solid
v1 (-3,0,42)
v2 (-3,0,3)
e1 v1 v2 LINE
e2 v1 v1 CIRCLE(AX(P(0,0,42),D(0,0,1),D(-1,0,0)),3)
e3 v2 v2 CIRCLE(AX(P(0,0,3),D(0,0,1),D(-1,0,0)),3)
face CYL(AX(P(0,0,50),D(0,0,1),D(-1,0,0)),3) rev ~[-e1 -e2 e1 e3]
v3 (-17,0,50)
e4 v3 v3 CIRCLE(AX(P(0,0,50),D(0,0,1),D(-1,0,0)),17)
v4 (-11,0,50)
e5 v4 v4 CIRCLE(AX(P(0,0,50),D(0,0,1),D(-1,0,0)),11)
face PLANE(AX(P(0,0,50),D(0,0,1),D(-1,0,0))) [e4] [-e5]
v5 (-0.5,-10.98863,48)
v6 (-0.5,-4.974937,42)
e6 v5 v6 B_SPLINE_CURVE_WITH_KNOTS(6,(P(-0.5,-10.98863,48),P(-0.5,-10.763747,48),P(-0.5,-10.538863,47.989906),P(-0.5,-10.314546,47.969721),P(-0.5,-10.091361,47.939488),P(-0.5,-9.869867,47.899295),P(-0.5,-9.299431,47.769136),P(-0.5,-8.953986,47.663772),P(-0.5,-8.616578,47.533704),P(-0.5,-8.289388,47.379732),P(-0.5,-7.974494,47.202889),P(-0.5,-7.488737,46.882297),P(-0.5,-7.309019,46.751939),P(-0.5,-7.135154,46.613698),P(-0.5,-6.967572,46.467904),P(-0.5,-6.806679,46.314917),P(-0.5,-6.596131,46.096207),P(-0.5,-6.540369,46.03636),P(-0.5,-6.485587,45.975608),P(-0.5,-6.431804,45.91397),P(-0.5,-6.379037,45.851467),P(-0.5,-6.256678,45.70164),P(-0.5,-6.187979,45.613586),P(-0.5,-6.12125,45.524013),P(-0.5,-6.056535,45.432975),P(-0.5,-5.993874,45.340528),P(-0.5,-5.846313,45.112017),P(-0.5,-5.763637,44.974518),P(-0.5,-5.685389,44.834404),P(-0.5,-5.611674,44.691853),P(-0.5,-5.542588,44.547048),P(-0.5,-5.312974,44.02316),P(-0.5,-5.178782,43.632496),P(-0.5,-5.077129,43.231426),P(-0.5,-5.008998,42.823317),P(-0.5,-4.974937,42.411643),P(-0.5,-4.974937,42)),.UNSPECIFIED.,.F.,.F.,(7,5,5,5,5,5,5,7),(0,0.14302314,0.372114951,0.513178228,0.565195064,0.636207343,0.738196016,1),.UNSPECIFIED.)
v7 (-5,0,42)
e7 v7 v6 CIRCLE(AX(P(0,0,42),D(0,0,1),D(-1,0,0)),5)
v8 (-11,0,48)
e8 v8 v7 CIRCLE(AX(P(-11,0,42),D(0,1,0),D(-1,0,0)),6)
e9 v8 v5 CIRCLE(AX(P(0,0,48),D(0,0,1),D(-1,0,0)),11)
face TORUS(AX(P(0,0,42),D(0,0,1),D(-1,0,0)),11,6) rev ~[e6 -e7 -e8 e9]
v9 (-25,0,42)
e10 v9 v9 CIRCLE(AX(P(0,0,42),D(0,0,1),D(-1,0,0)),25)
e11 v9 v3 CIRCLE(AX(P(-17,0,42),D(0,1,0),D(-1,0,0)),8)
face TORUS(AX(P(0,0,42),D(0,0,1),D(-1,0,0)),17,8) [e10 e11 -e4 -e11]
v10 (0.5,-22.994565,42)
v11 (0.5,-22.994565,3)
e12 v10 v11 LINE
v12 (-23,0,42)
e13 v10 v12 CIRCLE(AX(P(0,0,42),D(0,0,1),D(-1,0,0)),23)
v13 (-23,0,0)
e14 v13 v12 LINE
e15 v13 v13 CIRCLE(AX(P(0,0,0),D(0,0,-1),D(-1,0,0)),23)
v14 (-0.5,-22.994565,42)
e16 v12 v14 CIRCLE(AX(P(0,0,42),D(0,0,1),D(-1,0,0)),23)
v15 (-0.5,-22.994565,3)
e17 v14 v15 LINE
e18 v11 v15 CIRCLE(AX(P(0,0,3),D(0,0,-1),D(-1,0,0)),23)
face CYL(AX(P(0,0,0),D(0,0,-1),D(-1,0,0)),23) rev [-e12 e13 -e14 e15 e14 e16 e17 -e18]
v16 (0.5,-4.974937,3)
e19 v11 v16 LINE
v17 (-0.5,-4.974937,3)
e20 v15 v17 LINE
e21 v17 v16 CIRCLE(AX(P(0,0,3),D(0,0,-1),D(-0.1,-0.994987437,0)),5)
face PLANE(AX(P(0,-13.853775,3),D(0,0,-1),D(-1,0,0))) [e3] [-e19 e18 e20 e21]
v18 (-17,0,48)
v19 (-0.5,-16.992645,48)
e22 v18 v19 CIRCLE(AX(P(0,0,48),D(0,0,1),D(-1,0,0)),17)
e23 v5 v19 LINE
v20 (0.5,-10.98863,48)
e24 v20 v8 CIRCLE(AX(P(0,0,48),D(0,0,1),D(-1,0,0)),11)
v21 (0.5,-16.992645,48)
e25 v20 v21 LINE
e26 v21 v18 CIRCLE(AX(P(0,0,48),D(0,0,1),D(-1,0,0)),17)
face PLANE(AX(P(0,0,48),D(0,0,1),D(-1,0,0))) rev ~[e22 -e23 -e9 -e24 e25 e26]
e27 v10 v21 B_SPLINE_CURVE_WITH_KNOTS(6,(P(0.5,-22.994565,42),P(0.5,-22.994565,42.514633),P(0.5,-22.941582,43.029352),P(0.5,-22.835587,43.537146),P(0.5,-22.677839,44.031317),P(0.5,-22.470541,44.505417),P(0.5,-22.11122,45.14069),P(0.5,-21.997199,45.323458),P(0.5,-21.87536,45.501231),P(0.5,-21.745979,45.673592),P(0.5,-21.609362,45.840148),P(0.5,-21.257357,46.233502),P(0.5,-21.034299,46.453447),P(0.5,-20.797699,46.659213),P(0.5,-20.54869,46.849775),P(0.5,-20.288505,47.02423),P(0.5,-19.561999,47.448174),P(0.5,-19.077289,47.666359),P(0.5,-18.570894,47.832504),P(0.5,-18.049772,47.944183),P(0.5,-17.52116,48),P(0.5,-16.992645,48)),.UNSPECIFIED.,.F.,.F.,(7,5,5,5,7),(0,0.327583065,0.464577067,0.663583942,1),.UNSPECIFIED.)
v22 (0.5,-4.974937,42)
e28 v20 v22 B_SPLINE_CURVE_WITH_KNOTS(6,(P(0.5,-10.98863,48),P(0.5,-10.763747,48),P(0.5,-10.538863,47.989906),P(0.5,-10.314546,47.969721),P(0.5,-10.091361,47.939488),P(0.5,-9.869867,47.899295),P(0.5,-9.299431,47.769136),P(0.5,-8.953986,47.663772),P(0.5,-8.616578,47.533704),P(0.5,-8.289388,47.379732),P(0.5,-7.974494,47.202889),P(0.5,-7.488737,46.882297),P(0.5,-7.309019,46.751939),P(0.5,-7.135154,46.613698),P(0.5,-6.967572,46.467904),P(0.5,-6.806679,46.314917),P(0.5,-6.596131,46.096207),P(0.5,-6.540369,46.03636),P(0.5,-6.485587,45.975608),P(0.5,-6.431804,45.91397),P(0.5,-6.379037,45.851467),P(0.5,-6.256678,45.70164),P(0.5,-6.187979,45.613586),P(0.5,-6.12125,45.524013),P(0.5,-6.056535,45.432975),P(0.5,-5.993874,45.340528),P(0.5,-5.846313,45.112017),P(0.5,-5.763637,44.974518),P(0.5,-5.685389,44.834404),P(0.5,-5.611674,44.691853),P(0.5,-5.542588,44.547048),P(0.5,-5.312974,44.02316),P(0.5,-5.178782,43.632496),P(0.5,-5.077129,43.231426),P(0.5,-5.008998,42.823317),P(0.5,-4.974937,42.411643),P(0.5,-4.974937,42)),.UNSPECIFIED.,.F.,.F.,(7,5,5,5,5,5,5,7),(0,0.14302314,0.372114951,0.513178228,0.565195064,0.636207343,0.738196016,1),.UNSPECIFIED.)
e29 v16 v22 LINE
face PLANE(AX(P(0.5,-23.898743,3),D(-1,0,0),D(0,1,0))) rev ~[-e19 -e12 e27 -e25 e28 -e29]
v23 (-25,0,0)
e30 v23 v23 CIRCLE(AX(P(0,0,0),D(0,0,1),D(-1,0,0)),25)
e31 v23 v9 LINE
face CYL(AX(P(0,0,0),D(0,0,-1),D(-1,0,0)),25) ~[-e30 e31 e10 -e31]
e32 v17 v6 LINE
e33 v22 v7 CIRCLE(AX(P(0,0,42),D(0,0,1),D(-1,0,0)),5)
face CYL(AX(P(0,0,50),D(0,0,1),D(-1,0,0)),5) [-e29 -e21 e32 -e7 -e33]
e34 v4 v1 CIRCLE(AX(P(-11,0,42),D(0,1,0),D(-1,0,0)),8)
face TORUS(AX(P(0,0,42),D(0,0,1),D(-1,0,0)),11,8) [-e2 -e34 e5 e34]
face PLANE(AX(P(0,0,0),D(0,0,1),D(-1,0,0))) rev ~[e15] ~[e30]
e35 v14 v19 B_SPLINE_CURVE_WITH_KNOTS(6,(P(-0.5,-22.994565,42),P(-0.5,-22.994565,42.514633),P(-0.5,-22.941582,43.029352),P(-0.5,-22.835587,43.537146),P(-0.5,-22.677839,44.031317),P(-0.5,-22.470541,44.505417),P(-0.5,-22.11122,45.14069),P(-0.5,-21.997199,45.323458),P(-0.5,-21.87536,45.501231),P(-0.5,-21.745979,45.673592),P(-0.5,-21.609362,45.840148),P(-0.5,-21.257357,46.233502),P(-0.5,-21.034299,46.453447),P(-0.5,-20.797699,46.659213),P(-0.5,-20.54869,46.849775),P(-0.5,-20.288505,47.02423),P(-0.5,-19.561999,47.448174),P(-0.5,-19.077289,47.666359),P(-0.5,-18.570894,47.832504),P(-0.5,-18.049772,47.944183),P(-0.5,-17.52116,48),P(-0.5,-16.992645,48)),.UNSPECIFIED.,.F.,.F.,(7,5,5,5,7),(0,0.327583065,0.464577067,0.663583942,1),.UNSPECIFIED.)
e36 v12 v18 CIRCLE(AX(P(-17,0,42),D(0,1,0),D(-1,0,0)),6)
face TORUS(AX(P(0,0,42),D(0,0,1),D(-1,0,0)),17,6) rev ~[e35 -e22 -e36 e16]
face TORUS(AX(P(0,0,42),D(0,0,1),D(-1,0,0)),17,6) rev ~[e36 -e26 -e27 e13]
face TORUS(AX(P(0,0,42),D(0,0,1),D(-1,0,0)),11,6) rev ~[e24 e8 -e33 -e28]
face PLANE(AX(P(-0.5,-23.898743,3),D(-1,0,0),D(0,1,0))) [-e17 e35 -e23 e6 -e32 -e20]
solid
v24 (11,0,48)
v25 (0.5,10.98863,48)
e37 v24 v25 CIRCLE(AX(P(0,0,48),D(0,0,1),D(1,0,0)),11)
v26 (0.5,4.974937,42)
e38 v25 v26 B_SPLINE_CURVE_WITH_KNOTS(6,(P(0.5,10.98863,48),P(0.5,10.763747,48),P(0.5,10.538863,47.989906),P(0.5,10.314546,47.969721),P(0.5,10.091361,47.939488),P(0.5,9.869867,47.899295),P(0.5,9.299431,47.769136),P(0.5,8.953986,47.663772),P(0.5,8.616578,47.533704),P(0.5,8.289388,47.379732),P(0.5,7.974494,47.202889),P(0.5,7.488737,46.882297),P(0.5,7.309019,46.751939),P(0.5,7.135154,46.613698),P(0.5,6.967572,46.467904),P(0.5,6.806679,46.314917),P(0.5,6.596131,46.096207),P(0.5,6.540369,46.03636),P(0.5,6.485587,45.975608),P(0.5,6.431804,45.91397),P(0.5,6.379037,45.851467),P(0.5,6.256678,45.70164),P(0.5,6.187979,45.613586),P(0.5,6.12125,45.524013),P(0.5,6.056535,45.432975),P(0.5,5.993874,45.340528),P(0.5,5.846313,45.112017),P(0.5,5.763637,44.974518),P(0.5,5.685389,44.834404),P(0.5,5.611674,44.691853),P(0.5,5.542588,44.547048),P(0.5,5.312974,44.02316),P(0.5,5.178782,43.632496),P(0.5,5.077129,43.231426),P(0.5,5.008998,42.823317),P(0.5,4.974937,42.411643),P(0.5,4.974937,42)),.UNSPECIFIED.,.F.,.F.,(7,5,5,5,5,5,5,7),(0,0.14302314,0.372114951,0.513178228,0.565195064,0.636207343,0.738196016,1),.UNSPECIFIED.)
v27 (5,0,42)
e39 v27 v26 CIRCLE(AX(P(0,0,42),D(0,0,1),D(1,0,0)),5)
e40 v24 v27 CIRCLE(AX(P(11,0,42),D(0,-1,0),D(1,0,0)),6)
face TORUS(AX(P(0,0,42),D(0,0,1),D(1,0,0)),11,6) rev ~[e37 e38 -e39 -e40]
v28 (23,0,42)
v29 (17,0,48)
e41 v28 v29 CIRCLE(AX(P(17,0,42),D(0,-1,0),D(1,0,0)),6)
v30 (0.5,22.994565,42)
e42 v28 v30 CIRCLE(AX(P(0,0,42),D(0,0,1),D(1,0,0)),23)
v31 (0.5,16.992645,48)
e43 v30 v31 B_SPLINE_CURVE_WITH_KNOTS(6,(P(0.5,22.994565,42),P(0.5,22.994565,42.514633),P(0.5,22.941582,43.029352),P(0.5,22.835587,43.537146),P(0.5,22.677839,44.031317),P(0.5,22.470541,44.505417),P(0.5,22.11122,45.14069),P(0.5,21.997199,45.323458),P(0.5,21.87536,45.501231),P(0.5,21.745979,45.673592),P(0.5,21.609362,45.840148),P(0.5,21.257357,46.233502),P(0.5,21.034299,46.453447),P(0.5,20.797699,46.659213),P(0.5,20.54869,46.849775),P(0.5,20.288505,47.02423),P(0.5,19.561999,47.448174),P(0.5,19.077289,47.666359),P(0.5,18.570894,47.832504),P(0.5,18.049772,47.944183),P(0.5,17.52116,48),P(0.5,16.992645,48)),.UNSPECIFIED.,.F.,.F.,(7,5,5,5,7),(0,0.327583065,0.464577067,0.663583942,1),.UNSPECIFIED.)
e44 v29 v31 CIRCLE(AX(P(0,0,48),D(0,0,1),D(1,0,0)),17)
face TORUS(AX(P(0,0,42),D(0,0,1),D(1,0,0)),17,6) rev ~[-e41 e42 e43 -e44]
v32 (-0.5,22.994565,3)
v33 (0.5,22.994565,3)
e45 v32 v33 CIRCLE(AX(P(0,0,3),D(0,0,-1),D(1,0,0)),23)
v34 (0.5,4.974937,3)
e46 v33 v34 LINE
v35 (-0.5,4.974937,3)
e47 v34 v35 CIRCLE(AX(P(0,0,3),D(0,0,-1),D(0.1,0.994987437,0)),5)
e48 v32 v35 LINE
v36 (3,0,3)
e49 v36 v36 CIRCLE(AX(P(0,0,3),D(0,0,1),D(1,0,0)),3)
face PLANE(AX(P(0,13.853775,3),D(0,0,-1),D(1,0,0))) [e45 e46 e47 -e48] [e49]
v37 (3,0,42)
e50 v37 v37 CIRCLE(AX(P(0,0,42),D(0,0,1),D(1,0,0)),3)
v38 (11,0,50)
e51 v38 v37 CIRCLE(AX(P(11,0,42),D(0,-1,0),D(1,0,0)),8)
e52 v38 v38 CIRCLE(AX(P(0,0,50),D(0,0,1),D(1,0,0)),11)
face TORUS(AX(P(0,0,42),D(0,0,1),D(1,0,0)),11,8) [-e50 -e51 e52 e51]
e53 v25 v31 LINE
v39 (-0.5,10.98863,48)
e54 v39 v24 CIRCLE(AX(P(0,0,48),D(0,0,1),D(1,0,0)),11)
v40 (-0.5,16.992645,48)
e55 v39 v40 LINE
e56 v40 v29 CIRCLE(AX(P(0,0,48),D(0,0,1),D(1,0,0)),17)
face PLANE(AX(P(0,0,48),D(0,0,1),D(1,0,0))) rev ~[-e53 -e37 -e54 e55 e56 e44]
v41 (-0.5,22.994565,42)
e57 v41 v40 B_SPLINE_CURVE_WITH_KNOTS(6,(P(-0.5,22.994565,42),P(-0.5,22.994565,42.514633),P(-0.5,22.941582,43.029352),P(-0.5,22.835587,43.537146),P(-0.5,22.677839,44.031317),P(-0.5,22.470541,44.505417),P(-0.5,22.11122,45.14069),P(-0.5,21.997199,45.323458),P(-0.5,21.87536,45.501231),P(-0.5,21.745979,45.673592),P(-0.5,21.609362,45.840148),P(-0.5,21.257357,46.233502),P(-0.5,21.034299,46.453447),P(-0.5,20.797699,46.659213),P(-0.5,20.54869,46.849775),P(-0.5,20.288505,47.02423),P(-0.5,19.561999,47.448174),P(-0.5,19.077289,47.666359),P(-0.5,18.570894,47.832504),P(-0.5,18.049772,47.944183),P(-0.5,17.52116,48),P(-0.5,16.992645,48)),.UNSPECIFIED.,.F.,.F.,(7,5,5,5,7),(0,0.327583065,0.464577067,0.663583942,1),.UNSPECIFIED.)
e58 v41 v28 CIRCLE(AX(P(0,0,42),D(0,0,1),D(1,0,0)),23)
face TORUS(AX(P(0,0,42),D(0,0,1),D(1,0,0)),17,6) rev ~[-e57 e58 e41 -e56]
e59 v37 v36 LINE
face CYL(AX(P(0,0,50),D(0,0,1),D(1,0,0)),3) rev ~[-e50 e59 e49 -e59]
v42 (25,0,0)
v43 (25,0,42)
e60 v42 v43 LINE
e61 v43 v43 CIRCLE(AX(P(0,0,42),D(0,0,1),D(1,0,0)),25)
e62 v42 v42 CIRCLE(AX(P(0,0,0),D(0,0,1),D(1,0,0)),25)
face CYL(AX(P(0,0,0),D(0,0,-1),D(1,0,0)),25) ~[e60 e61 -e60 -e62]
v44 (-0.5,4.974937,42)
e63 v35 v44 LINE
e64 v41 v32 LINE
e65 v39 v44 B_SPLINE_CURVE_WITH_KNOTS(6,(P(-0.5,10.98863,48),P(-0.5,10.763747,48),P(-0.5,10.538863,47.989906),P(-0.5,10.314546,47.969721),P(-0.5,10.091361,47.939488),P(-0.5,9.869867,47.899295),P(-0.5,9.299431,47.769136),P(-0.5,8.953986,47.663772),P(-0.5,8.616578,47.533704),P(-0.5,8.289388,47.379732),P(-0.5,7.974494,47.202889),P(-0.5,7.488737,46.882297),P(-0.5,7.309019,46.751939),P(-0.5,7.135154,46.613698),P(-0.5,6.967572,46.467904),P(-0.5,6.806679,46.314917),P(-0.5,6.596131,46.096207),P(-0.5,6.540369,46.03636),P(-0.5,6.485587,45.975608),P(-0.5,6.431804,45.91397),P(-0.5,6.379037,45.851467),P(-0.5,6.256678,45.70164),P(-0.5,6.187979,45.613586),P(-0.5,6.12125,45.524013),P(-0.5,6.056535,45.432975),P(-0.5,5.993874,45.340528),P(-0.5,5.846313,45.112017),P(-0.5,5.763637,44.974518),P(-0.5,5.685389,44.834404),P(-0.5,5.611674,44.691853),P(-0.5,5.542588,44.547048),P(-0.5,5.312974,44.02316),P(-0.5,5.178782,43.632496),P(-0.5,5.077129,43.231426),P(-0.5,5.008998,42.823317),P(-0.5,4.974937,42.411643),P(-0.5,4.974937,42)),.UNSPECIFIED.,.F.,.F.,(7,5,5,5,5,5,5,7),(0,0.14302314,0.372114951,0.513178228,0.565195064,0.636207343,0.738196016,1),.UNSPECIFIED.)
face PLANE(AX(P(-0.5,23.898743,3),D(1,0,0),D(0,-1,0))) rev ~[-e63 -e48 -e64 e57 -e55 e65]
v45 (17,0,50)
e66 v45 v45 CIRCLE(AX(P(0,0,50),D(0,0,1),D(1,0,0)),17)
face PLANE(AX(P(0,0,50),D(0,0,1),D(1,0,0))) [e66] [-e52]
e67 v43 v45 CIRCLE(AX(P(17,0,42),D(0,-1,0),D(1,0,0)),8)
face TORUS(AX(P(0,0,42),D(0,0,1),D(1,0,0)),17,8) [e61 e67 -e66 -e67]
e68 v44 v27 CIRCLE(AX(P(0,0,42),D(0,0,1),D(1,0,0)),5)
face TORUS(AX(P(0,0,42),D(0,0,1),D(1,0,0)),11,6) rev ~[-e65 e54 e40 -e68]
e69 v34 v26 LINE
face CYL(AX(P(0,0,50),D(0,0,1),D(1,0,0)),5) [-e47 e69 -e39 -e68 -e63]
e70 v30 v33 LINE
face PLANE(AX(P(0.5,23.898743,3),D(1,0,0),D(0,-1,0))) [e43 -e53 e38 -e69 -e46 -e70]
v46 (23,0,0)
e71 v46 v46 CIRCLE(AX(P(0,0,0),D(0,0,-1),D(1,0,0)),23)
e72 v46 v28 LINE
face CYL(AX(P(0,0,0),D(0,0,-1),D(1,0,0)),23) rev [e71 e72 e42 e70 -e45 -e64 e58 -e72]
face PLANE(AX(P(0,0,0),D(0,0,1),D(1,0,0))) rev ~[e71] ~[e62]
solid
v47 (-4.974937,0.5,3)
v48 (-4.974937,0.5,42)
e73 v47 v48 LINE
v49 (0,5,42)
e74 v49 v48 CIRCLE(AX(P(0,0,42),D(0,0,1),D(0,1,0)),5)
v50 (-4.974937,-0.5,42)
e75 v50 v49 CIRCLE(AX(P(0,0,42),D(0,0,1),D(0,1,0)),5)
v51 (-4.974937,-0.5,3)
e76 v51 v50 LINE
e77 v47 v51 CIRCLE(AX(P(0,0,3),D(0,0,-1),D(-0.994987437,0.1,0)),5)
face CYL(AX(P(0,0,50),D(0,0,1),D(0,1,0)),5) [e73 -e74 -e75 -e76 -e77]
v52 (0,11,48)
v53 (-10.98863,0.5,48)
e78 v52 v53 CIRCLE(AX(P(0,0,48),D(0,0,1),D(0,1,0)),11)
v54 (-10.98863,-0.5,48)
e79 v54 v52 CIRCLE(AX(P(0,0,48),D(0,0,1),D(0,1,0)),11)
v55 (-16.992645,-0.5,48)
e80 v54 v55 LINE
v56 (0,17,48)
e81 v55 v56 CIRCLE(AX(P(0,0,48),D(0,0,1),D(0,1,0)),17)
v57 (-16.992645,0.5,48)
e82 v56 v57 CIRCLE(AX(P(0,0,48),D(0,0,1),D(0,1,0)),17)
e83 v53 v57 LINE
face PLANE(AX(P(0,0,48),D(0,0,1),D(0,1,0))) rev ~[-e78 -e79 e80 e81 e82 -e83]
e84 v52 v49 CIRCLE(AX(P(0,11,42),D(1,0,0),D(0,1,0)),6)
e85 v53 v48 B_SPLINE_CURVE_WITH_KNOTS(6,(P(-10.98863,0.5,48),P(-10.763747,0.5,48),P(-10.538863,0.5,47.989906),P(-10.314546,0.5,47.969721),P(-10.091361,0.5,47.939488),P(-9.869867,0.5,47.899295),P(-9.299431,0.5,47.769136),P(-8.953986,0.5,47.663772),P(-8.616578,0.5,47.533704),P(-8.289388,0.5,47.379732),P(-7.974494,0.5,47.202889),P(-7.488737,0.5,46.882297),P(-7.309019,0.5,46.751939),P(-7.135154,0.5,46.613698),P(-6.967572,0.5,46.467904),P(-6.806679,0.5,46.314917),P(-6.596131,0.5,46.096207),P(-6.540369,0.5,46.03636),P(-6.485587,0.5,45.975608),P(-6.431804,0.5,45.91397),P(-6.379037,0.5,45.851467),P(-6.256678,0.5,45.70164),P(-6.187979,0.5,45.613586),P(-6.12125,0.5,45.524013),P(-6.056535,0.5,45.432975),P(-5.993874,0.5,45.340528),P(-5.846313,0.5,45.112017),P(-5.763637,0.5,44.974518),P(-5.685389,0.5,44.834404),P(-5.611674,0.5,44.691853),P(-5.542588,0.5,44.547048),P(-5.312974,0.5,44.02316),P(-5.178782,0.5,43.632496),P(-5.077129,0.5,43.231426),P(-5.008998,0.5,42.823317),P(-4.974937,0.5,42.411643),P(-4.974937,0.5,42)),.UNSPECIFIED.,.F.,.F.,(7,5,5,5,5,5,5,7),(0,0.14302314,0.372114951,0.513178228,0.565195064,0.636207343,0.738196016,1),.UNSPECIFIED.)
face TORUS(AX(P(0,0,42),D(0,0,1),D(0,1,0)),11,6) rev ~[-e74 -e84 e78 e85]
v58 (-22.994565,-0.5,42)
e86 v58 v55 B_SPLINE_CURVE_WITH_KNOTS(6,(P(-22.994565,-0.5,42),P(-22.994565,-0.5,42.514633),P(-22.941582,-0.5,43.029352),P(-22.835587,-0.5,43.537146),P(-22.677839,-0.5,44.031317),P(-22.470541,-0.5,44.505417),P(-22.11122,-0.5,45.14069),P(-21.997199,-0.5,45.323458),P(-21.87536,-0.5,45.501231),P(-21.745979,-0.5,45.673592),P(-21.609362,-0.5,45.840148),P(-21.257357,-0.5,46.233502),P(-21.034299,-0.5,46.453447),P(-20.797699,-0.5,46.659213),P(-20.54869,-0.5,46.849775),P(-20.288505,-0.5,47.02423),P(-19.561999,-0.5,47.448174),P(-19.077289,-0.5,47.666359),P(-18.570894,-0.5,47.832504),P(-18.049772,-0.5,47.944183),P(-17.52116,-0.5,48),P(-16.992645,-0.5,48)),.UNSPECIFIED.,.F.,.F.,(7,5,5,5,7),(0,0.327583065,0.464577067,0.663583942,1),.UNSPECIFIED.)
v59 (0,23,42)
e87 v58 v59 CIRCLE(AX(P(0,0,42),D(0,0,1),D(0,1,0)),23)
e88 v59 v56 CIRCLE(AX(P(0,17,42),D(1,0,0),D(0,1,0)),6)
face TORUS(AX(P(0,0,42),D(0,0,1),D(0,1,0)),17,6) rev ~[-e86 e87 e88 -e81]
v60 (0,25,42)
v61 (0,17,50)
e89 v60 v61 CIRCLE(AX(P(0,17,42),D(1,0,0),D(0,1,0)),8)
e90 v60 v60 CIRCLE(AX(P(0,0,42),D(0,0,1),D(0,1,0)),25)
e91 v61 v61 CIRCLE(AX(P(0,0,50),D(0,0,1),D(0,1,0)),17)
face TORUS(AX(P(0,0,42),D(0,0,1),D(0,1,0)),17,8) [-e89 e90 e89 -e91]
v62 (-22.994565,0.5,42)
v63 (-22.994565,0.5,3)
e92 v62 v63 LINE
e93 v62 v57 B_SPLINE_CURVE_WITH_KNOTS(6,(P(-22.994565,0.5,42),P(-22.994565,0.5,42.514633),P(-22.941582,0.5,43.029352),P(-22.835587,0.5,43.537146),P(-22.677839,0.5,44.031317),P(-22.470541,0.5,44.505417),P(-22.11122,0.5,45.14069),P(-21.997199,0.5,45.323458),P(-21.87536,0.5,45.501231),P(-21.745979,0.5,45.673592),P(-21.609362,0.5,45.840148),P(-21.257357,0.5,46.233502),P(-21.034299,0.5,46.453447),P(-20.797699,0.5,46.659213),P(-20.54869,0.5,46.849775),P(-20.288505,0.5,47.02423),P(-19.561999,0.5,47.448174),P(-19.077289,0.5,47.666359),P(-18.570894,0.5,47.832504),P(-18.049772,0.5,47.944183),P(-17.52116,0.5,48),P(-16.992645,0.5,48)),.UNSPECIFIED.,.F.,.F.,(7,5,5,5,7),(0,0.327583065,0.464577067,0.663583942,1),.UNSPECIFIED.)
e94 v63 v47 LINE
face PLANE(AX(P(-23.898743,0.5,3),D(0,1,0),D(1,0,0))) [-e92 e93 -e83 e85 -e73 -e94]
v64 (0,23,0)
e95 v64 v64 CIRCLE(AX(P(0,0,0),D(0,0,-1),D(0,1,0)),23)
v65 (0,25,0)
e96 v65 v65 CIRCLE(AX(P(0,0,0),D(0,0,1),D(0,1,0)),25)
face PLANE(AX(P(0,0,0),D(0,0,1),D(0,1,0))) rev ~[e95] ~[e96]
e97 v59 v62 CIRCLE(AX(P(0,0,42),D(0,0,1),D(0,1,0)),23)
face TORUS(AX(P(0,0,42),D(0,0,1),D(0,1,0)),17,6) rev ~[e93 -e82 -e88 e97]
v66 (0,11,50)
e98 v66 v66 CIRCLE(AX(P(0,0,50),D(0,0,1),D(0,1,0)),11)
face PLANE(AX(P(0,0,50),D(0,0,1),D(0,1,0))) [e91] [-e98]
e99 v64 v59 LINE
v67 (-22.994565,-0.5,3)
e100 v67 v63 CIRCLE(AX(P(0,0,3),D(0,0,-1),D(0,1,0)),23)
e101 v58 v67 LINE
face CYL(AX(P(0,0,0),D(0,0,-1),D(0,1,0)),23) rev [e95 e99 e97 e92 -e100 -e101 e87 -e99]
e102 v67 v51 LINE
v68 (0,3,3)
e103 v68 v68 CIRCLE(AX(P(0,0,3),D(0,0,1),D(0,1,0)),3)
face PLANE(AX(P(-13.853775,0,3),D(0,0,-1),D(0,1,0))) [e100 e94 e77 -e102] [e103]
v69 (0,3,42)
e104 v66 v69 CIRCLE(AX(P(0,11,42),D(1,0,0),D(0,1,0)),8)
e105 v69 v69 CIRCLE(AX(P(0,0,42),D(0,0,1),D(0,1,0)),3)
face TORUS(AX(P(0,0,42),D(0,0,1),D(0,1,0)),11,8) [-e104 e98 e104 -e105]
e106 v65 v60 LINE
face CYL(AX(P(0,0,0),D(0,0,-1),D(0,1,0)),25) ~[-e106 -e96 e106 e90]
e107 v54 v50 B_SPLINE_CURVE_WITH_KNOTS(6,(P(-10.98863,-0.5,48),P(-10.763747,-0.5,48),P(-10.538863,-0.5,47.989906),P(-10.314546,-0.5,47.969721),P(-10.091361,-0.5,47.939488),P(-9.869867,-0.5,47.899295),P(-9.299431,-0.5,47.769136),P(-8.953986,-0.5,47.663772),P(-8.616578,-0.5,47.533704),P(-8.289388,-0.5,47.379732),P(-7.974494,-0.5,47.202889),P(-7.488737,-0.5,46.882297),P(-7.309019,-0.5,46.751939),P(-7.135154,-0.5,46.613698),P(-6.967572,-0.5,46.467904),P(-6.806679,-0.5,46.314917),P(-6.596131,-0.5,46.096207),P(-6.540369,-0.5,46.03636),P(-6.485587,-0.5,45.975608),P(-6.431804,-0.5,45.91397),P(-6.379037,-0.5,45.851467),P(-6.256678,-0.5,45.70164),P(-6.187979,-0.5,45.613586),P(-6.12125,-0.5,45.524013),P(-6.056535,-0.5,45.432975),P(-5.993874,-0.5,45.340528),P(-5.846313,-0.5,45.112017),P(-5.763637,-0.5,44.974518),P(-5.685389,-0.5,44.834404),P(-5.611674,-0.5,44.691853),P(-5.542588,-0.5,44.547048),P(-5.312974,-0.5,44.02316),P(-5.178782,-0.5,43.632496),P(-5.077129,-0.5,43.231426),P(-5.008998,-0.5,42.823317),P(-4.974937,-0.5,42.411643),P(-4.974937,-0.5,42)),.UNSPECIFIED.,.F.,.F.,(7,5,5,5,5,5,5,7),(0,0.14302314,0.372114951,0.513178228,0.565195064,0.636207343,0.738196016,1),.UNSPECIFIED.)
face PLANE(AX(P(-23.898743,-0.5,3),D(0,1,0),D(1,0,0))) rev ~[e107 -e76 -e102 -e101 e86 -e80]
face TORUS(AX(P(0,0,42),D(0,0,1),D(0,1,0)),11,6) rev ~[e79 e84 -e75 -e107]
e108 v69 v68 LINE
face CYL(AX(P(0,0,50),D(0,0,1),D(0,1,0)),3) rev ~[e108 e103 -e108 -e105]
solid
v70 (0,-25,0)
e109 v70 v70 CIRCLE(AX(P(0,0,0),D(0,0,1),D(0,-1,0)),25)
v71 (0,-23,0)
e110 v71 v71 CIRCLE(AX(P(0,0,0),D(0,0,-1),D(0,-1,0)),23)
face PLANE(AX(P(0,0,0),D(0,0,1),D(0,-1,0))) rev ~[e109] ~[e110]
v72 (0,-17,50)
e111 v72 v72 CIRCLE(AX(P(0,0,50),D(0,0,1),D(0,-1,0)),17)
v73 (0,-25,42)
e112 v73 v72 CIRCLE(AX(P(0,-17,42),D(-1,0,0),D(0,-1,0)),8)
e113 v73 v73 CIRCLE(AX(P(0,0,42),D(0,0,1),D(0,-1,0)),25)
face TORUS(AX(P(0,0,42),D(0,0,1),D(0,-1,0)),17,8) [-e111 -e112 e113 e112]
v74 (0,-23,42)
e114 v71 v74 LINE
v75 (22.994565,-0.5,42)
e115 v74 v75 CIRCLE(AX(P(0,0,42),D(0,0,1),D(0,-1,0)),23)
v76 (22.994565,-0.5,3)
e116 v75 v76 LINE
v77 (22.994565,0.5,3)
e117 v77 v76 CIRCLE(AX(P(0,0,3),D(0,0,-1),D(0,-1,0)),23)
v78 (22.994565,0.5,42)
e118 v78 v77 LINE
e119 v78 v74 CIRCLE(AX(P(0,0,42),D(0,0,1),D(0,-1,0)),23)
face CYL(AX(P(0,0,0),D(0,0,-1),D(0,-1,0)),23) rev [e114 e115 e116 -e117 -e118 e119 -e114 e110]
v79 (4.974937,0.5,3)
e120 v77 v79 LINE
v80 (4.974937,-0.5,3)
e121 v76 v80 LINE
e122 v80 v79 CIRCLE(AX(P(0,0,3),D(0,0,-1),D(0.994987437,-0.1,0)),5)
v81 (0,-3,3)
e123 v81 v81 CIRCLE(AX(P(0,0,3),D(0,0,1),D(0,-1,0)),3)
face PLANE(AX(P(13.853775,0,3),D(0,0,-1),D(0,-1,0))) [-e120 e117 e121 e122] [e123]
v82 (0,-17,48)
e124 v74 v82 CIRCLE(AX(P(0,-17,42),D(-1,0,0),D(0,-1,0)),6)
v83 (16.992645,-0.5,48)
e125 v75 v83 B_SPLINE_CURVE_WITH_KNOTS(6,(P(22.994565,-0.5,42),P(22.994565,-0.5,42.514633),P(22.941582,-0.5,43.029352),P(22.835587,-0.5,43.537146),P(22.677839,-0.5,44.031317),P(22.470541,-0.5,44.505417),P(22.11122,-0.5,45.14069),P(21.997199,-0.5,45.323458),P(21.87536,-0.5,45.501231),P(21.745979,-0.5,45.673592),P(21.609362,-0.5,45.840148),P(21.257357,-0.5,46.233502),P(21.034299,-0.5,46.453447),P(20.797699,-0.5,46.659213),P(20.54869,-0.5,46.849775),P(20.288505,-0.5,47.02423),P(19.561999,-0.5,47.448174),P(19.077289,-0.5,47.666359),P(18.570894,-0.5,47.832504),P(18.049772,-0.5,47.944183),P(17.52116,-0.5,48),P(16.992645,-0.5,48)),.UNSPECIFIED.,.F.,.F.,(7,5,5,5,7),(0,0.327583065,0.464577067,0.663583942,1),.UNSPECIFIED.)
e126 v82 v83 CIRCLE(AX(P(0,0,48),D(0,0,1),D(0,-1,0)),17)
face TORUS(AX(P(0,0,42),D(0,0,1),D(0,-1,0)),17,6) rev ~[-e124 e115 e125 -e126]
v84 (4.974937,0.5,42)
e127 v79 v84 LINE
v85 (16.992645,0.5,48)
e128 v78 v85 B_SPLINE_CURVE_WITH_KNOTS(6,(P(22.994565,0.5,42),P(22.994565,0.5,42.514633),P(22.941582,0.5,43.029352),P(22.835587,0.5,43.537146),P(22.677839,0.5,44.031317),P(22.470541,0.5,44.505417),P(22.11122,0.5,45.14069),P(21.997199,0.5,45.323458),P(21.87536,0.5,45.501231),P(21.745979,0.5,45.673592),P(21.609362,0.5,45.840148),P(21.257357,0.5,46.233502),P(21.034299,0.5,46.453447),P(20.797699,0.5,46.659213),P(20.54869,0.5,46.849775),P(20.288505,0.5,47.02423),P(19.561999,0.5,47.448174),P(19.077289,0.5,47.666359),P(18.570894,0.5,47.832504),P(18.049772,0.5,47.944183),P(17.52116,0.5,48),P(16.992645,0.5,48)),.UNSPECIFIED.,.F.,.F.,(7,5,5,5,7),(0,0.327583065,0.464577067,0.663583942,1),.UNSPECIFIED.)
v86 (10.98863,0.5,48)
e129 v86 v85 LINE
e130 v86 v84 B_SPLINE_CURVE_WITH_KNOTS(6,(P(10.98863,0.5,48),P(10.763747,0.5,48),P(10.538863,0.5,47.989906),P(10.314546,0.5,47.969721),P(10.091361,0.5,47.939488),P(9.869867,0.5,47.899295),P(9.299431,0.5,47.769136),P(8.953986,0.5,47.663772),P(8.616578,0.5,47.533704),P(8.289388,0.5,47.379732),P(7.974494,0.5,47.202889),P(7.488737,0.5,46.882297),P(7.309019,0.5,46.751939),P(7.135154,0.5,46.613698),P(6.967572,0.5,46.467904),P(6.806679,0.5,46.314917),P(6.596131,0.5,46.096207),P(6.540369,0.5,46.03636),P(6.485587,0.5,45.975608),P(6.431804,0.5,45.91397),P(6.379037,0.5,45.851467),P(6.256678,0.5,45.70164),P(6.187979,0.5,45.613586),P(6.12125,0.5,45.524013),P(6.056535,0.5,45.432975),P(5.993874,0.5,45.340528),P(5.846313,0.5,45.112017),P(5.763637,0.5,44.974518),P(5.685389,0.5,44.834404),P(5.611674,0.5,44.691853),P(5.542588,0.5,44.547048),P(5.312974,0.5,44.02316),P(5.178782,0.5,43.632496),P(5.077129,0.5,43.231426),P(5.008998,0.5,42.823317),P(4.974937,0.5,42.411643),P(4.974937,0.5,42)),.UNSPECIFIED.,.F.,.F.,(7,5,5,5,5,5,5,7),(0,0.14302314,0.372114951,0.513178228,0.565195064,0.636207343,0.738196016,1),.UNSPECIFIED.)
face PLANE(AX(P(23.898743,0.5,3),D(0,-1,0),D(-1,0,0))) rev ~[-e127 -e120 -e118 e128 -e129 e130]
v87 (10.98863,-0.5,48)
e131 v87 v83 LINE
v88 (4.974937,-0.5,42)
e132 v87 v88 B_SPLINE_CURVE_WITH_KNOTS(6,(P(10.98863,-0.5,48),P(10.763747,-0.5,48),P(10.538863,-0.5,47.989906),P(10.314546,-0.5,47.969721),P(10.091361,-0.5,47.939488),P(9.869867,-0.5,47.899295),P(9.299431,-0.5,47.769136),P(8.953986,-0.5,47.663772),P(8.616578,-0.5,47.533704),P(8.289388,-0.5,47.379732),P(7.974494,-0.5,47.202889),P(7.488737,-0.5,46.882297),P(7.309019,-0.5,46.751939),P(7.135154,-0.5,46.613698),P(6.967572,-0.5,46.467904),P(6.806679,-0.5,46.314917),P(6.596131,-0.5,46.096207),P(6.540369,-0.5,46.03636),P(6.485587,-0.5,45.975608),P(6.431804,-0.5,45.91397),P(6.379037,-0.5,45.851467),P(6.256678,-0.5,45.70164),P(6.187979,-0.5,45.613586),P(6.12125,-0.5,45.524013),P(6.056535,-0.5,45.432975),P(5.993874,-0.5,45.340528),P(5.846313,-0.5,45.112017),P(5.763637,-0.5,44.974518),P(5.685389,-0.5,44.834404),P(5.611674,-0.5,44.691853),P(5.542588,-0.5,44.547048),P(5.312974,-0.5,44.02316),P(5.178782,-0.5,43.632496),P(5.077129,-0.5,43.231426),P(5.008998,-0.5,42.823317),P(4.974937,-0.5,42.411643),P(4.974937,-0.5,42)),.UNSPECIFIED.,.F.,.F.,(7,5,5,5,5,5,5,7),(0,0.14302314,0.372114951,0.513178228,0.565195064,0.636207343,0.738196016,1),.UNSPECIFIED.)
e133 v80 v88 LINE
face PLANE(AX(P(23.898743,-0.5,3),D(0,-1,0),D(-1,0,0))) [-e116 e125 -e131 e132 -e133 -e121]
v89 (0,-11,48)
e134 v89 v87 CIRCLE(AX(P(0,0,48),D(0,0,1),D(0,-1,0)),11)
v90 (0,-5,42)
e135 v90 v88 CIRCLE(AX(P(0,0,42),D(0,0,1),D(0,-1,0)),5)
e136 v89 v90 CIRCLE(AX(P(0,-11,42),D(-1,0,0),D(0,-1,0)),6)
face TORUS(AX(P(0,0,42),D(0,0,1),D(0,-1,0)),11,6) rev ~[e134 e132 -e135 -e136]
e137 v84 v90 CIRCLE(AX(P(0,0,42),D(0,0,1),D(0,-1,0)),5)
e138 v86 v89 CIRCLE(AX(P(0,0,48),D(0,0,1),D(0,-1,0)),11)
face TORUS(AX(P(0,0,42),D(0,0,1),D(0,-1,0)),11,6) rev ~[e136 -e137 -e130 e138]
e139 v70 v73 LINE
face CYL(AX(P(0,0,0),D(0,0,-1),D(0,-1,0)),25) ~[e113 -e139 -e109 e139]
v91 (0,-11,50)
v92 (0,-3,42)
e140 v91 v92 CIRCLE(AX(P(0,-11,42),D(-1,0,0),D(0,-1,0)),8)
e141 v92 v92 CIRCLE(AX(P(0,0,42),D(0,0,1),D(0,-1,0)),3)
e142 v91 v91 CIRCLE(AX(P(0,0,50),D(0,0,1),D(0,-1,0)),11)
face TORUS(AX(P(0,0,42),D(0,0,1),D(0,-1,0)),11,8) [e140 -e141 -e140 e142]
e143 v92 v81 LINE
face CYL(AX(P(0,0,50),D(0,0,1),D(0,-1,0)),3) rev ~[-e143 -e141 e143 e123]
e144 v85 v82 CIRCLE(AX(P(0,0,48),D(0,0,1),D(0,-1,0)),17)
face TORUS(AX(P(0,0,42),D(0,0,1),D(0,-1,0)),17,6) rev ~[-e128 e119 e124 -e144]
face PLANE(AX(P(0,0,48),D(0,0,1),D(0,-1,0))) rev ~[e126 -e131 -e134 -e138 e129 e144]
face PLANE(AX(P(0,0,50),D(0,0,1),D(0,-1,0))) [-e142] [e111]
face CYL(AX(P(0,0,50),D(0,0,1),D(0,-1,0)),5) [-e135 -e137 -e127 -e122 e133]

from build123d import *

# Parameters (mm, degrees)
F0_R      = 25
F1_DEPTH  = 50
F2_R      = 3
F3_DEPTH  = 48
F4_R      = 8
F5_T      = -2
F6_R      = 5
F7_DEPTH  = 3
F8_W      = 1
F8_H      = 20.0899352785
F10_COUNT = 4


with BuildPart() as f1:
    # F0 (on Top) → F1 (new body)
    with BuildSketch(Plane.XY):
        Circle(F0_R)
    extrude(amount=F1_DEPTH)

    # F2 (on face) → F3 (cut)
    with BuildSketch(Plane.XY.offset(50)):
        Circle(F2_R)
    extrude(amount=-F3_DEPTH, mode=Mode.SUBTRACT)

    # F4
    f4_edges = [f1.edges().sort_by_distance(p)[0] for p in [
        (-25, 0, 50),
        (-3, 0, 50),
    ]]
    fillet(f4_edges, radius=F4_R)

    # F5
    f5_openings = [f1.faces().sort_by_distance(p)[0] for p in [
        (0, 0, 0),
    ]]
    offset(amount=F5_T, openings=f5_openings, kind=Kind.INTERSECTION)

    # F6 (on face) → F7 (cut)
    with BuildSketch(Plane(origin=(0, 0, 0), x_dir=(1, 0, 0), z_dir=(0, 0, -1))):
        Circle(F6_R)
    extrude(amount=-F7_DEPTH, mode=Mode.SUBTRACT)

    # F8 (on face) → F9 (join, up to the next surface of F1)
    with BuildSketch(Plane(origin=(0, 0, 3), x_dir=(1, 0, 0), z_dir=(0, 0, -1))):
        with Locations((0, -13.8537754538)):
            Rectangle(F8_W, F8_H)
    extrude(until=Until.NEXT, dir=(0, 0, 1))


with BuildPart() as f10_1:
    # F10: instance of F1
    add(f1.part.rotate(Axis((0, 0, 3), (0, 0, 1)), 1 * 360 / F10_COUNT))


with BuildPart() as f10_2:
    # F10: instance of F1
    add(f1.part.rotate(Axis((0, 0, 3), (0, 0, 1)), 2 * 360 / F10_COUNT))


with BuildPart() as f10_3:
    # F10: instance of F1
    add(f1.part.rotate(Axis((0, 0, 3), (0, 0, 1)), 3 * 360 / F10_COUNT))


solid = Compound([f1.part, f10_1.part, f10_2.part, f10_3.part])
